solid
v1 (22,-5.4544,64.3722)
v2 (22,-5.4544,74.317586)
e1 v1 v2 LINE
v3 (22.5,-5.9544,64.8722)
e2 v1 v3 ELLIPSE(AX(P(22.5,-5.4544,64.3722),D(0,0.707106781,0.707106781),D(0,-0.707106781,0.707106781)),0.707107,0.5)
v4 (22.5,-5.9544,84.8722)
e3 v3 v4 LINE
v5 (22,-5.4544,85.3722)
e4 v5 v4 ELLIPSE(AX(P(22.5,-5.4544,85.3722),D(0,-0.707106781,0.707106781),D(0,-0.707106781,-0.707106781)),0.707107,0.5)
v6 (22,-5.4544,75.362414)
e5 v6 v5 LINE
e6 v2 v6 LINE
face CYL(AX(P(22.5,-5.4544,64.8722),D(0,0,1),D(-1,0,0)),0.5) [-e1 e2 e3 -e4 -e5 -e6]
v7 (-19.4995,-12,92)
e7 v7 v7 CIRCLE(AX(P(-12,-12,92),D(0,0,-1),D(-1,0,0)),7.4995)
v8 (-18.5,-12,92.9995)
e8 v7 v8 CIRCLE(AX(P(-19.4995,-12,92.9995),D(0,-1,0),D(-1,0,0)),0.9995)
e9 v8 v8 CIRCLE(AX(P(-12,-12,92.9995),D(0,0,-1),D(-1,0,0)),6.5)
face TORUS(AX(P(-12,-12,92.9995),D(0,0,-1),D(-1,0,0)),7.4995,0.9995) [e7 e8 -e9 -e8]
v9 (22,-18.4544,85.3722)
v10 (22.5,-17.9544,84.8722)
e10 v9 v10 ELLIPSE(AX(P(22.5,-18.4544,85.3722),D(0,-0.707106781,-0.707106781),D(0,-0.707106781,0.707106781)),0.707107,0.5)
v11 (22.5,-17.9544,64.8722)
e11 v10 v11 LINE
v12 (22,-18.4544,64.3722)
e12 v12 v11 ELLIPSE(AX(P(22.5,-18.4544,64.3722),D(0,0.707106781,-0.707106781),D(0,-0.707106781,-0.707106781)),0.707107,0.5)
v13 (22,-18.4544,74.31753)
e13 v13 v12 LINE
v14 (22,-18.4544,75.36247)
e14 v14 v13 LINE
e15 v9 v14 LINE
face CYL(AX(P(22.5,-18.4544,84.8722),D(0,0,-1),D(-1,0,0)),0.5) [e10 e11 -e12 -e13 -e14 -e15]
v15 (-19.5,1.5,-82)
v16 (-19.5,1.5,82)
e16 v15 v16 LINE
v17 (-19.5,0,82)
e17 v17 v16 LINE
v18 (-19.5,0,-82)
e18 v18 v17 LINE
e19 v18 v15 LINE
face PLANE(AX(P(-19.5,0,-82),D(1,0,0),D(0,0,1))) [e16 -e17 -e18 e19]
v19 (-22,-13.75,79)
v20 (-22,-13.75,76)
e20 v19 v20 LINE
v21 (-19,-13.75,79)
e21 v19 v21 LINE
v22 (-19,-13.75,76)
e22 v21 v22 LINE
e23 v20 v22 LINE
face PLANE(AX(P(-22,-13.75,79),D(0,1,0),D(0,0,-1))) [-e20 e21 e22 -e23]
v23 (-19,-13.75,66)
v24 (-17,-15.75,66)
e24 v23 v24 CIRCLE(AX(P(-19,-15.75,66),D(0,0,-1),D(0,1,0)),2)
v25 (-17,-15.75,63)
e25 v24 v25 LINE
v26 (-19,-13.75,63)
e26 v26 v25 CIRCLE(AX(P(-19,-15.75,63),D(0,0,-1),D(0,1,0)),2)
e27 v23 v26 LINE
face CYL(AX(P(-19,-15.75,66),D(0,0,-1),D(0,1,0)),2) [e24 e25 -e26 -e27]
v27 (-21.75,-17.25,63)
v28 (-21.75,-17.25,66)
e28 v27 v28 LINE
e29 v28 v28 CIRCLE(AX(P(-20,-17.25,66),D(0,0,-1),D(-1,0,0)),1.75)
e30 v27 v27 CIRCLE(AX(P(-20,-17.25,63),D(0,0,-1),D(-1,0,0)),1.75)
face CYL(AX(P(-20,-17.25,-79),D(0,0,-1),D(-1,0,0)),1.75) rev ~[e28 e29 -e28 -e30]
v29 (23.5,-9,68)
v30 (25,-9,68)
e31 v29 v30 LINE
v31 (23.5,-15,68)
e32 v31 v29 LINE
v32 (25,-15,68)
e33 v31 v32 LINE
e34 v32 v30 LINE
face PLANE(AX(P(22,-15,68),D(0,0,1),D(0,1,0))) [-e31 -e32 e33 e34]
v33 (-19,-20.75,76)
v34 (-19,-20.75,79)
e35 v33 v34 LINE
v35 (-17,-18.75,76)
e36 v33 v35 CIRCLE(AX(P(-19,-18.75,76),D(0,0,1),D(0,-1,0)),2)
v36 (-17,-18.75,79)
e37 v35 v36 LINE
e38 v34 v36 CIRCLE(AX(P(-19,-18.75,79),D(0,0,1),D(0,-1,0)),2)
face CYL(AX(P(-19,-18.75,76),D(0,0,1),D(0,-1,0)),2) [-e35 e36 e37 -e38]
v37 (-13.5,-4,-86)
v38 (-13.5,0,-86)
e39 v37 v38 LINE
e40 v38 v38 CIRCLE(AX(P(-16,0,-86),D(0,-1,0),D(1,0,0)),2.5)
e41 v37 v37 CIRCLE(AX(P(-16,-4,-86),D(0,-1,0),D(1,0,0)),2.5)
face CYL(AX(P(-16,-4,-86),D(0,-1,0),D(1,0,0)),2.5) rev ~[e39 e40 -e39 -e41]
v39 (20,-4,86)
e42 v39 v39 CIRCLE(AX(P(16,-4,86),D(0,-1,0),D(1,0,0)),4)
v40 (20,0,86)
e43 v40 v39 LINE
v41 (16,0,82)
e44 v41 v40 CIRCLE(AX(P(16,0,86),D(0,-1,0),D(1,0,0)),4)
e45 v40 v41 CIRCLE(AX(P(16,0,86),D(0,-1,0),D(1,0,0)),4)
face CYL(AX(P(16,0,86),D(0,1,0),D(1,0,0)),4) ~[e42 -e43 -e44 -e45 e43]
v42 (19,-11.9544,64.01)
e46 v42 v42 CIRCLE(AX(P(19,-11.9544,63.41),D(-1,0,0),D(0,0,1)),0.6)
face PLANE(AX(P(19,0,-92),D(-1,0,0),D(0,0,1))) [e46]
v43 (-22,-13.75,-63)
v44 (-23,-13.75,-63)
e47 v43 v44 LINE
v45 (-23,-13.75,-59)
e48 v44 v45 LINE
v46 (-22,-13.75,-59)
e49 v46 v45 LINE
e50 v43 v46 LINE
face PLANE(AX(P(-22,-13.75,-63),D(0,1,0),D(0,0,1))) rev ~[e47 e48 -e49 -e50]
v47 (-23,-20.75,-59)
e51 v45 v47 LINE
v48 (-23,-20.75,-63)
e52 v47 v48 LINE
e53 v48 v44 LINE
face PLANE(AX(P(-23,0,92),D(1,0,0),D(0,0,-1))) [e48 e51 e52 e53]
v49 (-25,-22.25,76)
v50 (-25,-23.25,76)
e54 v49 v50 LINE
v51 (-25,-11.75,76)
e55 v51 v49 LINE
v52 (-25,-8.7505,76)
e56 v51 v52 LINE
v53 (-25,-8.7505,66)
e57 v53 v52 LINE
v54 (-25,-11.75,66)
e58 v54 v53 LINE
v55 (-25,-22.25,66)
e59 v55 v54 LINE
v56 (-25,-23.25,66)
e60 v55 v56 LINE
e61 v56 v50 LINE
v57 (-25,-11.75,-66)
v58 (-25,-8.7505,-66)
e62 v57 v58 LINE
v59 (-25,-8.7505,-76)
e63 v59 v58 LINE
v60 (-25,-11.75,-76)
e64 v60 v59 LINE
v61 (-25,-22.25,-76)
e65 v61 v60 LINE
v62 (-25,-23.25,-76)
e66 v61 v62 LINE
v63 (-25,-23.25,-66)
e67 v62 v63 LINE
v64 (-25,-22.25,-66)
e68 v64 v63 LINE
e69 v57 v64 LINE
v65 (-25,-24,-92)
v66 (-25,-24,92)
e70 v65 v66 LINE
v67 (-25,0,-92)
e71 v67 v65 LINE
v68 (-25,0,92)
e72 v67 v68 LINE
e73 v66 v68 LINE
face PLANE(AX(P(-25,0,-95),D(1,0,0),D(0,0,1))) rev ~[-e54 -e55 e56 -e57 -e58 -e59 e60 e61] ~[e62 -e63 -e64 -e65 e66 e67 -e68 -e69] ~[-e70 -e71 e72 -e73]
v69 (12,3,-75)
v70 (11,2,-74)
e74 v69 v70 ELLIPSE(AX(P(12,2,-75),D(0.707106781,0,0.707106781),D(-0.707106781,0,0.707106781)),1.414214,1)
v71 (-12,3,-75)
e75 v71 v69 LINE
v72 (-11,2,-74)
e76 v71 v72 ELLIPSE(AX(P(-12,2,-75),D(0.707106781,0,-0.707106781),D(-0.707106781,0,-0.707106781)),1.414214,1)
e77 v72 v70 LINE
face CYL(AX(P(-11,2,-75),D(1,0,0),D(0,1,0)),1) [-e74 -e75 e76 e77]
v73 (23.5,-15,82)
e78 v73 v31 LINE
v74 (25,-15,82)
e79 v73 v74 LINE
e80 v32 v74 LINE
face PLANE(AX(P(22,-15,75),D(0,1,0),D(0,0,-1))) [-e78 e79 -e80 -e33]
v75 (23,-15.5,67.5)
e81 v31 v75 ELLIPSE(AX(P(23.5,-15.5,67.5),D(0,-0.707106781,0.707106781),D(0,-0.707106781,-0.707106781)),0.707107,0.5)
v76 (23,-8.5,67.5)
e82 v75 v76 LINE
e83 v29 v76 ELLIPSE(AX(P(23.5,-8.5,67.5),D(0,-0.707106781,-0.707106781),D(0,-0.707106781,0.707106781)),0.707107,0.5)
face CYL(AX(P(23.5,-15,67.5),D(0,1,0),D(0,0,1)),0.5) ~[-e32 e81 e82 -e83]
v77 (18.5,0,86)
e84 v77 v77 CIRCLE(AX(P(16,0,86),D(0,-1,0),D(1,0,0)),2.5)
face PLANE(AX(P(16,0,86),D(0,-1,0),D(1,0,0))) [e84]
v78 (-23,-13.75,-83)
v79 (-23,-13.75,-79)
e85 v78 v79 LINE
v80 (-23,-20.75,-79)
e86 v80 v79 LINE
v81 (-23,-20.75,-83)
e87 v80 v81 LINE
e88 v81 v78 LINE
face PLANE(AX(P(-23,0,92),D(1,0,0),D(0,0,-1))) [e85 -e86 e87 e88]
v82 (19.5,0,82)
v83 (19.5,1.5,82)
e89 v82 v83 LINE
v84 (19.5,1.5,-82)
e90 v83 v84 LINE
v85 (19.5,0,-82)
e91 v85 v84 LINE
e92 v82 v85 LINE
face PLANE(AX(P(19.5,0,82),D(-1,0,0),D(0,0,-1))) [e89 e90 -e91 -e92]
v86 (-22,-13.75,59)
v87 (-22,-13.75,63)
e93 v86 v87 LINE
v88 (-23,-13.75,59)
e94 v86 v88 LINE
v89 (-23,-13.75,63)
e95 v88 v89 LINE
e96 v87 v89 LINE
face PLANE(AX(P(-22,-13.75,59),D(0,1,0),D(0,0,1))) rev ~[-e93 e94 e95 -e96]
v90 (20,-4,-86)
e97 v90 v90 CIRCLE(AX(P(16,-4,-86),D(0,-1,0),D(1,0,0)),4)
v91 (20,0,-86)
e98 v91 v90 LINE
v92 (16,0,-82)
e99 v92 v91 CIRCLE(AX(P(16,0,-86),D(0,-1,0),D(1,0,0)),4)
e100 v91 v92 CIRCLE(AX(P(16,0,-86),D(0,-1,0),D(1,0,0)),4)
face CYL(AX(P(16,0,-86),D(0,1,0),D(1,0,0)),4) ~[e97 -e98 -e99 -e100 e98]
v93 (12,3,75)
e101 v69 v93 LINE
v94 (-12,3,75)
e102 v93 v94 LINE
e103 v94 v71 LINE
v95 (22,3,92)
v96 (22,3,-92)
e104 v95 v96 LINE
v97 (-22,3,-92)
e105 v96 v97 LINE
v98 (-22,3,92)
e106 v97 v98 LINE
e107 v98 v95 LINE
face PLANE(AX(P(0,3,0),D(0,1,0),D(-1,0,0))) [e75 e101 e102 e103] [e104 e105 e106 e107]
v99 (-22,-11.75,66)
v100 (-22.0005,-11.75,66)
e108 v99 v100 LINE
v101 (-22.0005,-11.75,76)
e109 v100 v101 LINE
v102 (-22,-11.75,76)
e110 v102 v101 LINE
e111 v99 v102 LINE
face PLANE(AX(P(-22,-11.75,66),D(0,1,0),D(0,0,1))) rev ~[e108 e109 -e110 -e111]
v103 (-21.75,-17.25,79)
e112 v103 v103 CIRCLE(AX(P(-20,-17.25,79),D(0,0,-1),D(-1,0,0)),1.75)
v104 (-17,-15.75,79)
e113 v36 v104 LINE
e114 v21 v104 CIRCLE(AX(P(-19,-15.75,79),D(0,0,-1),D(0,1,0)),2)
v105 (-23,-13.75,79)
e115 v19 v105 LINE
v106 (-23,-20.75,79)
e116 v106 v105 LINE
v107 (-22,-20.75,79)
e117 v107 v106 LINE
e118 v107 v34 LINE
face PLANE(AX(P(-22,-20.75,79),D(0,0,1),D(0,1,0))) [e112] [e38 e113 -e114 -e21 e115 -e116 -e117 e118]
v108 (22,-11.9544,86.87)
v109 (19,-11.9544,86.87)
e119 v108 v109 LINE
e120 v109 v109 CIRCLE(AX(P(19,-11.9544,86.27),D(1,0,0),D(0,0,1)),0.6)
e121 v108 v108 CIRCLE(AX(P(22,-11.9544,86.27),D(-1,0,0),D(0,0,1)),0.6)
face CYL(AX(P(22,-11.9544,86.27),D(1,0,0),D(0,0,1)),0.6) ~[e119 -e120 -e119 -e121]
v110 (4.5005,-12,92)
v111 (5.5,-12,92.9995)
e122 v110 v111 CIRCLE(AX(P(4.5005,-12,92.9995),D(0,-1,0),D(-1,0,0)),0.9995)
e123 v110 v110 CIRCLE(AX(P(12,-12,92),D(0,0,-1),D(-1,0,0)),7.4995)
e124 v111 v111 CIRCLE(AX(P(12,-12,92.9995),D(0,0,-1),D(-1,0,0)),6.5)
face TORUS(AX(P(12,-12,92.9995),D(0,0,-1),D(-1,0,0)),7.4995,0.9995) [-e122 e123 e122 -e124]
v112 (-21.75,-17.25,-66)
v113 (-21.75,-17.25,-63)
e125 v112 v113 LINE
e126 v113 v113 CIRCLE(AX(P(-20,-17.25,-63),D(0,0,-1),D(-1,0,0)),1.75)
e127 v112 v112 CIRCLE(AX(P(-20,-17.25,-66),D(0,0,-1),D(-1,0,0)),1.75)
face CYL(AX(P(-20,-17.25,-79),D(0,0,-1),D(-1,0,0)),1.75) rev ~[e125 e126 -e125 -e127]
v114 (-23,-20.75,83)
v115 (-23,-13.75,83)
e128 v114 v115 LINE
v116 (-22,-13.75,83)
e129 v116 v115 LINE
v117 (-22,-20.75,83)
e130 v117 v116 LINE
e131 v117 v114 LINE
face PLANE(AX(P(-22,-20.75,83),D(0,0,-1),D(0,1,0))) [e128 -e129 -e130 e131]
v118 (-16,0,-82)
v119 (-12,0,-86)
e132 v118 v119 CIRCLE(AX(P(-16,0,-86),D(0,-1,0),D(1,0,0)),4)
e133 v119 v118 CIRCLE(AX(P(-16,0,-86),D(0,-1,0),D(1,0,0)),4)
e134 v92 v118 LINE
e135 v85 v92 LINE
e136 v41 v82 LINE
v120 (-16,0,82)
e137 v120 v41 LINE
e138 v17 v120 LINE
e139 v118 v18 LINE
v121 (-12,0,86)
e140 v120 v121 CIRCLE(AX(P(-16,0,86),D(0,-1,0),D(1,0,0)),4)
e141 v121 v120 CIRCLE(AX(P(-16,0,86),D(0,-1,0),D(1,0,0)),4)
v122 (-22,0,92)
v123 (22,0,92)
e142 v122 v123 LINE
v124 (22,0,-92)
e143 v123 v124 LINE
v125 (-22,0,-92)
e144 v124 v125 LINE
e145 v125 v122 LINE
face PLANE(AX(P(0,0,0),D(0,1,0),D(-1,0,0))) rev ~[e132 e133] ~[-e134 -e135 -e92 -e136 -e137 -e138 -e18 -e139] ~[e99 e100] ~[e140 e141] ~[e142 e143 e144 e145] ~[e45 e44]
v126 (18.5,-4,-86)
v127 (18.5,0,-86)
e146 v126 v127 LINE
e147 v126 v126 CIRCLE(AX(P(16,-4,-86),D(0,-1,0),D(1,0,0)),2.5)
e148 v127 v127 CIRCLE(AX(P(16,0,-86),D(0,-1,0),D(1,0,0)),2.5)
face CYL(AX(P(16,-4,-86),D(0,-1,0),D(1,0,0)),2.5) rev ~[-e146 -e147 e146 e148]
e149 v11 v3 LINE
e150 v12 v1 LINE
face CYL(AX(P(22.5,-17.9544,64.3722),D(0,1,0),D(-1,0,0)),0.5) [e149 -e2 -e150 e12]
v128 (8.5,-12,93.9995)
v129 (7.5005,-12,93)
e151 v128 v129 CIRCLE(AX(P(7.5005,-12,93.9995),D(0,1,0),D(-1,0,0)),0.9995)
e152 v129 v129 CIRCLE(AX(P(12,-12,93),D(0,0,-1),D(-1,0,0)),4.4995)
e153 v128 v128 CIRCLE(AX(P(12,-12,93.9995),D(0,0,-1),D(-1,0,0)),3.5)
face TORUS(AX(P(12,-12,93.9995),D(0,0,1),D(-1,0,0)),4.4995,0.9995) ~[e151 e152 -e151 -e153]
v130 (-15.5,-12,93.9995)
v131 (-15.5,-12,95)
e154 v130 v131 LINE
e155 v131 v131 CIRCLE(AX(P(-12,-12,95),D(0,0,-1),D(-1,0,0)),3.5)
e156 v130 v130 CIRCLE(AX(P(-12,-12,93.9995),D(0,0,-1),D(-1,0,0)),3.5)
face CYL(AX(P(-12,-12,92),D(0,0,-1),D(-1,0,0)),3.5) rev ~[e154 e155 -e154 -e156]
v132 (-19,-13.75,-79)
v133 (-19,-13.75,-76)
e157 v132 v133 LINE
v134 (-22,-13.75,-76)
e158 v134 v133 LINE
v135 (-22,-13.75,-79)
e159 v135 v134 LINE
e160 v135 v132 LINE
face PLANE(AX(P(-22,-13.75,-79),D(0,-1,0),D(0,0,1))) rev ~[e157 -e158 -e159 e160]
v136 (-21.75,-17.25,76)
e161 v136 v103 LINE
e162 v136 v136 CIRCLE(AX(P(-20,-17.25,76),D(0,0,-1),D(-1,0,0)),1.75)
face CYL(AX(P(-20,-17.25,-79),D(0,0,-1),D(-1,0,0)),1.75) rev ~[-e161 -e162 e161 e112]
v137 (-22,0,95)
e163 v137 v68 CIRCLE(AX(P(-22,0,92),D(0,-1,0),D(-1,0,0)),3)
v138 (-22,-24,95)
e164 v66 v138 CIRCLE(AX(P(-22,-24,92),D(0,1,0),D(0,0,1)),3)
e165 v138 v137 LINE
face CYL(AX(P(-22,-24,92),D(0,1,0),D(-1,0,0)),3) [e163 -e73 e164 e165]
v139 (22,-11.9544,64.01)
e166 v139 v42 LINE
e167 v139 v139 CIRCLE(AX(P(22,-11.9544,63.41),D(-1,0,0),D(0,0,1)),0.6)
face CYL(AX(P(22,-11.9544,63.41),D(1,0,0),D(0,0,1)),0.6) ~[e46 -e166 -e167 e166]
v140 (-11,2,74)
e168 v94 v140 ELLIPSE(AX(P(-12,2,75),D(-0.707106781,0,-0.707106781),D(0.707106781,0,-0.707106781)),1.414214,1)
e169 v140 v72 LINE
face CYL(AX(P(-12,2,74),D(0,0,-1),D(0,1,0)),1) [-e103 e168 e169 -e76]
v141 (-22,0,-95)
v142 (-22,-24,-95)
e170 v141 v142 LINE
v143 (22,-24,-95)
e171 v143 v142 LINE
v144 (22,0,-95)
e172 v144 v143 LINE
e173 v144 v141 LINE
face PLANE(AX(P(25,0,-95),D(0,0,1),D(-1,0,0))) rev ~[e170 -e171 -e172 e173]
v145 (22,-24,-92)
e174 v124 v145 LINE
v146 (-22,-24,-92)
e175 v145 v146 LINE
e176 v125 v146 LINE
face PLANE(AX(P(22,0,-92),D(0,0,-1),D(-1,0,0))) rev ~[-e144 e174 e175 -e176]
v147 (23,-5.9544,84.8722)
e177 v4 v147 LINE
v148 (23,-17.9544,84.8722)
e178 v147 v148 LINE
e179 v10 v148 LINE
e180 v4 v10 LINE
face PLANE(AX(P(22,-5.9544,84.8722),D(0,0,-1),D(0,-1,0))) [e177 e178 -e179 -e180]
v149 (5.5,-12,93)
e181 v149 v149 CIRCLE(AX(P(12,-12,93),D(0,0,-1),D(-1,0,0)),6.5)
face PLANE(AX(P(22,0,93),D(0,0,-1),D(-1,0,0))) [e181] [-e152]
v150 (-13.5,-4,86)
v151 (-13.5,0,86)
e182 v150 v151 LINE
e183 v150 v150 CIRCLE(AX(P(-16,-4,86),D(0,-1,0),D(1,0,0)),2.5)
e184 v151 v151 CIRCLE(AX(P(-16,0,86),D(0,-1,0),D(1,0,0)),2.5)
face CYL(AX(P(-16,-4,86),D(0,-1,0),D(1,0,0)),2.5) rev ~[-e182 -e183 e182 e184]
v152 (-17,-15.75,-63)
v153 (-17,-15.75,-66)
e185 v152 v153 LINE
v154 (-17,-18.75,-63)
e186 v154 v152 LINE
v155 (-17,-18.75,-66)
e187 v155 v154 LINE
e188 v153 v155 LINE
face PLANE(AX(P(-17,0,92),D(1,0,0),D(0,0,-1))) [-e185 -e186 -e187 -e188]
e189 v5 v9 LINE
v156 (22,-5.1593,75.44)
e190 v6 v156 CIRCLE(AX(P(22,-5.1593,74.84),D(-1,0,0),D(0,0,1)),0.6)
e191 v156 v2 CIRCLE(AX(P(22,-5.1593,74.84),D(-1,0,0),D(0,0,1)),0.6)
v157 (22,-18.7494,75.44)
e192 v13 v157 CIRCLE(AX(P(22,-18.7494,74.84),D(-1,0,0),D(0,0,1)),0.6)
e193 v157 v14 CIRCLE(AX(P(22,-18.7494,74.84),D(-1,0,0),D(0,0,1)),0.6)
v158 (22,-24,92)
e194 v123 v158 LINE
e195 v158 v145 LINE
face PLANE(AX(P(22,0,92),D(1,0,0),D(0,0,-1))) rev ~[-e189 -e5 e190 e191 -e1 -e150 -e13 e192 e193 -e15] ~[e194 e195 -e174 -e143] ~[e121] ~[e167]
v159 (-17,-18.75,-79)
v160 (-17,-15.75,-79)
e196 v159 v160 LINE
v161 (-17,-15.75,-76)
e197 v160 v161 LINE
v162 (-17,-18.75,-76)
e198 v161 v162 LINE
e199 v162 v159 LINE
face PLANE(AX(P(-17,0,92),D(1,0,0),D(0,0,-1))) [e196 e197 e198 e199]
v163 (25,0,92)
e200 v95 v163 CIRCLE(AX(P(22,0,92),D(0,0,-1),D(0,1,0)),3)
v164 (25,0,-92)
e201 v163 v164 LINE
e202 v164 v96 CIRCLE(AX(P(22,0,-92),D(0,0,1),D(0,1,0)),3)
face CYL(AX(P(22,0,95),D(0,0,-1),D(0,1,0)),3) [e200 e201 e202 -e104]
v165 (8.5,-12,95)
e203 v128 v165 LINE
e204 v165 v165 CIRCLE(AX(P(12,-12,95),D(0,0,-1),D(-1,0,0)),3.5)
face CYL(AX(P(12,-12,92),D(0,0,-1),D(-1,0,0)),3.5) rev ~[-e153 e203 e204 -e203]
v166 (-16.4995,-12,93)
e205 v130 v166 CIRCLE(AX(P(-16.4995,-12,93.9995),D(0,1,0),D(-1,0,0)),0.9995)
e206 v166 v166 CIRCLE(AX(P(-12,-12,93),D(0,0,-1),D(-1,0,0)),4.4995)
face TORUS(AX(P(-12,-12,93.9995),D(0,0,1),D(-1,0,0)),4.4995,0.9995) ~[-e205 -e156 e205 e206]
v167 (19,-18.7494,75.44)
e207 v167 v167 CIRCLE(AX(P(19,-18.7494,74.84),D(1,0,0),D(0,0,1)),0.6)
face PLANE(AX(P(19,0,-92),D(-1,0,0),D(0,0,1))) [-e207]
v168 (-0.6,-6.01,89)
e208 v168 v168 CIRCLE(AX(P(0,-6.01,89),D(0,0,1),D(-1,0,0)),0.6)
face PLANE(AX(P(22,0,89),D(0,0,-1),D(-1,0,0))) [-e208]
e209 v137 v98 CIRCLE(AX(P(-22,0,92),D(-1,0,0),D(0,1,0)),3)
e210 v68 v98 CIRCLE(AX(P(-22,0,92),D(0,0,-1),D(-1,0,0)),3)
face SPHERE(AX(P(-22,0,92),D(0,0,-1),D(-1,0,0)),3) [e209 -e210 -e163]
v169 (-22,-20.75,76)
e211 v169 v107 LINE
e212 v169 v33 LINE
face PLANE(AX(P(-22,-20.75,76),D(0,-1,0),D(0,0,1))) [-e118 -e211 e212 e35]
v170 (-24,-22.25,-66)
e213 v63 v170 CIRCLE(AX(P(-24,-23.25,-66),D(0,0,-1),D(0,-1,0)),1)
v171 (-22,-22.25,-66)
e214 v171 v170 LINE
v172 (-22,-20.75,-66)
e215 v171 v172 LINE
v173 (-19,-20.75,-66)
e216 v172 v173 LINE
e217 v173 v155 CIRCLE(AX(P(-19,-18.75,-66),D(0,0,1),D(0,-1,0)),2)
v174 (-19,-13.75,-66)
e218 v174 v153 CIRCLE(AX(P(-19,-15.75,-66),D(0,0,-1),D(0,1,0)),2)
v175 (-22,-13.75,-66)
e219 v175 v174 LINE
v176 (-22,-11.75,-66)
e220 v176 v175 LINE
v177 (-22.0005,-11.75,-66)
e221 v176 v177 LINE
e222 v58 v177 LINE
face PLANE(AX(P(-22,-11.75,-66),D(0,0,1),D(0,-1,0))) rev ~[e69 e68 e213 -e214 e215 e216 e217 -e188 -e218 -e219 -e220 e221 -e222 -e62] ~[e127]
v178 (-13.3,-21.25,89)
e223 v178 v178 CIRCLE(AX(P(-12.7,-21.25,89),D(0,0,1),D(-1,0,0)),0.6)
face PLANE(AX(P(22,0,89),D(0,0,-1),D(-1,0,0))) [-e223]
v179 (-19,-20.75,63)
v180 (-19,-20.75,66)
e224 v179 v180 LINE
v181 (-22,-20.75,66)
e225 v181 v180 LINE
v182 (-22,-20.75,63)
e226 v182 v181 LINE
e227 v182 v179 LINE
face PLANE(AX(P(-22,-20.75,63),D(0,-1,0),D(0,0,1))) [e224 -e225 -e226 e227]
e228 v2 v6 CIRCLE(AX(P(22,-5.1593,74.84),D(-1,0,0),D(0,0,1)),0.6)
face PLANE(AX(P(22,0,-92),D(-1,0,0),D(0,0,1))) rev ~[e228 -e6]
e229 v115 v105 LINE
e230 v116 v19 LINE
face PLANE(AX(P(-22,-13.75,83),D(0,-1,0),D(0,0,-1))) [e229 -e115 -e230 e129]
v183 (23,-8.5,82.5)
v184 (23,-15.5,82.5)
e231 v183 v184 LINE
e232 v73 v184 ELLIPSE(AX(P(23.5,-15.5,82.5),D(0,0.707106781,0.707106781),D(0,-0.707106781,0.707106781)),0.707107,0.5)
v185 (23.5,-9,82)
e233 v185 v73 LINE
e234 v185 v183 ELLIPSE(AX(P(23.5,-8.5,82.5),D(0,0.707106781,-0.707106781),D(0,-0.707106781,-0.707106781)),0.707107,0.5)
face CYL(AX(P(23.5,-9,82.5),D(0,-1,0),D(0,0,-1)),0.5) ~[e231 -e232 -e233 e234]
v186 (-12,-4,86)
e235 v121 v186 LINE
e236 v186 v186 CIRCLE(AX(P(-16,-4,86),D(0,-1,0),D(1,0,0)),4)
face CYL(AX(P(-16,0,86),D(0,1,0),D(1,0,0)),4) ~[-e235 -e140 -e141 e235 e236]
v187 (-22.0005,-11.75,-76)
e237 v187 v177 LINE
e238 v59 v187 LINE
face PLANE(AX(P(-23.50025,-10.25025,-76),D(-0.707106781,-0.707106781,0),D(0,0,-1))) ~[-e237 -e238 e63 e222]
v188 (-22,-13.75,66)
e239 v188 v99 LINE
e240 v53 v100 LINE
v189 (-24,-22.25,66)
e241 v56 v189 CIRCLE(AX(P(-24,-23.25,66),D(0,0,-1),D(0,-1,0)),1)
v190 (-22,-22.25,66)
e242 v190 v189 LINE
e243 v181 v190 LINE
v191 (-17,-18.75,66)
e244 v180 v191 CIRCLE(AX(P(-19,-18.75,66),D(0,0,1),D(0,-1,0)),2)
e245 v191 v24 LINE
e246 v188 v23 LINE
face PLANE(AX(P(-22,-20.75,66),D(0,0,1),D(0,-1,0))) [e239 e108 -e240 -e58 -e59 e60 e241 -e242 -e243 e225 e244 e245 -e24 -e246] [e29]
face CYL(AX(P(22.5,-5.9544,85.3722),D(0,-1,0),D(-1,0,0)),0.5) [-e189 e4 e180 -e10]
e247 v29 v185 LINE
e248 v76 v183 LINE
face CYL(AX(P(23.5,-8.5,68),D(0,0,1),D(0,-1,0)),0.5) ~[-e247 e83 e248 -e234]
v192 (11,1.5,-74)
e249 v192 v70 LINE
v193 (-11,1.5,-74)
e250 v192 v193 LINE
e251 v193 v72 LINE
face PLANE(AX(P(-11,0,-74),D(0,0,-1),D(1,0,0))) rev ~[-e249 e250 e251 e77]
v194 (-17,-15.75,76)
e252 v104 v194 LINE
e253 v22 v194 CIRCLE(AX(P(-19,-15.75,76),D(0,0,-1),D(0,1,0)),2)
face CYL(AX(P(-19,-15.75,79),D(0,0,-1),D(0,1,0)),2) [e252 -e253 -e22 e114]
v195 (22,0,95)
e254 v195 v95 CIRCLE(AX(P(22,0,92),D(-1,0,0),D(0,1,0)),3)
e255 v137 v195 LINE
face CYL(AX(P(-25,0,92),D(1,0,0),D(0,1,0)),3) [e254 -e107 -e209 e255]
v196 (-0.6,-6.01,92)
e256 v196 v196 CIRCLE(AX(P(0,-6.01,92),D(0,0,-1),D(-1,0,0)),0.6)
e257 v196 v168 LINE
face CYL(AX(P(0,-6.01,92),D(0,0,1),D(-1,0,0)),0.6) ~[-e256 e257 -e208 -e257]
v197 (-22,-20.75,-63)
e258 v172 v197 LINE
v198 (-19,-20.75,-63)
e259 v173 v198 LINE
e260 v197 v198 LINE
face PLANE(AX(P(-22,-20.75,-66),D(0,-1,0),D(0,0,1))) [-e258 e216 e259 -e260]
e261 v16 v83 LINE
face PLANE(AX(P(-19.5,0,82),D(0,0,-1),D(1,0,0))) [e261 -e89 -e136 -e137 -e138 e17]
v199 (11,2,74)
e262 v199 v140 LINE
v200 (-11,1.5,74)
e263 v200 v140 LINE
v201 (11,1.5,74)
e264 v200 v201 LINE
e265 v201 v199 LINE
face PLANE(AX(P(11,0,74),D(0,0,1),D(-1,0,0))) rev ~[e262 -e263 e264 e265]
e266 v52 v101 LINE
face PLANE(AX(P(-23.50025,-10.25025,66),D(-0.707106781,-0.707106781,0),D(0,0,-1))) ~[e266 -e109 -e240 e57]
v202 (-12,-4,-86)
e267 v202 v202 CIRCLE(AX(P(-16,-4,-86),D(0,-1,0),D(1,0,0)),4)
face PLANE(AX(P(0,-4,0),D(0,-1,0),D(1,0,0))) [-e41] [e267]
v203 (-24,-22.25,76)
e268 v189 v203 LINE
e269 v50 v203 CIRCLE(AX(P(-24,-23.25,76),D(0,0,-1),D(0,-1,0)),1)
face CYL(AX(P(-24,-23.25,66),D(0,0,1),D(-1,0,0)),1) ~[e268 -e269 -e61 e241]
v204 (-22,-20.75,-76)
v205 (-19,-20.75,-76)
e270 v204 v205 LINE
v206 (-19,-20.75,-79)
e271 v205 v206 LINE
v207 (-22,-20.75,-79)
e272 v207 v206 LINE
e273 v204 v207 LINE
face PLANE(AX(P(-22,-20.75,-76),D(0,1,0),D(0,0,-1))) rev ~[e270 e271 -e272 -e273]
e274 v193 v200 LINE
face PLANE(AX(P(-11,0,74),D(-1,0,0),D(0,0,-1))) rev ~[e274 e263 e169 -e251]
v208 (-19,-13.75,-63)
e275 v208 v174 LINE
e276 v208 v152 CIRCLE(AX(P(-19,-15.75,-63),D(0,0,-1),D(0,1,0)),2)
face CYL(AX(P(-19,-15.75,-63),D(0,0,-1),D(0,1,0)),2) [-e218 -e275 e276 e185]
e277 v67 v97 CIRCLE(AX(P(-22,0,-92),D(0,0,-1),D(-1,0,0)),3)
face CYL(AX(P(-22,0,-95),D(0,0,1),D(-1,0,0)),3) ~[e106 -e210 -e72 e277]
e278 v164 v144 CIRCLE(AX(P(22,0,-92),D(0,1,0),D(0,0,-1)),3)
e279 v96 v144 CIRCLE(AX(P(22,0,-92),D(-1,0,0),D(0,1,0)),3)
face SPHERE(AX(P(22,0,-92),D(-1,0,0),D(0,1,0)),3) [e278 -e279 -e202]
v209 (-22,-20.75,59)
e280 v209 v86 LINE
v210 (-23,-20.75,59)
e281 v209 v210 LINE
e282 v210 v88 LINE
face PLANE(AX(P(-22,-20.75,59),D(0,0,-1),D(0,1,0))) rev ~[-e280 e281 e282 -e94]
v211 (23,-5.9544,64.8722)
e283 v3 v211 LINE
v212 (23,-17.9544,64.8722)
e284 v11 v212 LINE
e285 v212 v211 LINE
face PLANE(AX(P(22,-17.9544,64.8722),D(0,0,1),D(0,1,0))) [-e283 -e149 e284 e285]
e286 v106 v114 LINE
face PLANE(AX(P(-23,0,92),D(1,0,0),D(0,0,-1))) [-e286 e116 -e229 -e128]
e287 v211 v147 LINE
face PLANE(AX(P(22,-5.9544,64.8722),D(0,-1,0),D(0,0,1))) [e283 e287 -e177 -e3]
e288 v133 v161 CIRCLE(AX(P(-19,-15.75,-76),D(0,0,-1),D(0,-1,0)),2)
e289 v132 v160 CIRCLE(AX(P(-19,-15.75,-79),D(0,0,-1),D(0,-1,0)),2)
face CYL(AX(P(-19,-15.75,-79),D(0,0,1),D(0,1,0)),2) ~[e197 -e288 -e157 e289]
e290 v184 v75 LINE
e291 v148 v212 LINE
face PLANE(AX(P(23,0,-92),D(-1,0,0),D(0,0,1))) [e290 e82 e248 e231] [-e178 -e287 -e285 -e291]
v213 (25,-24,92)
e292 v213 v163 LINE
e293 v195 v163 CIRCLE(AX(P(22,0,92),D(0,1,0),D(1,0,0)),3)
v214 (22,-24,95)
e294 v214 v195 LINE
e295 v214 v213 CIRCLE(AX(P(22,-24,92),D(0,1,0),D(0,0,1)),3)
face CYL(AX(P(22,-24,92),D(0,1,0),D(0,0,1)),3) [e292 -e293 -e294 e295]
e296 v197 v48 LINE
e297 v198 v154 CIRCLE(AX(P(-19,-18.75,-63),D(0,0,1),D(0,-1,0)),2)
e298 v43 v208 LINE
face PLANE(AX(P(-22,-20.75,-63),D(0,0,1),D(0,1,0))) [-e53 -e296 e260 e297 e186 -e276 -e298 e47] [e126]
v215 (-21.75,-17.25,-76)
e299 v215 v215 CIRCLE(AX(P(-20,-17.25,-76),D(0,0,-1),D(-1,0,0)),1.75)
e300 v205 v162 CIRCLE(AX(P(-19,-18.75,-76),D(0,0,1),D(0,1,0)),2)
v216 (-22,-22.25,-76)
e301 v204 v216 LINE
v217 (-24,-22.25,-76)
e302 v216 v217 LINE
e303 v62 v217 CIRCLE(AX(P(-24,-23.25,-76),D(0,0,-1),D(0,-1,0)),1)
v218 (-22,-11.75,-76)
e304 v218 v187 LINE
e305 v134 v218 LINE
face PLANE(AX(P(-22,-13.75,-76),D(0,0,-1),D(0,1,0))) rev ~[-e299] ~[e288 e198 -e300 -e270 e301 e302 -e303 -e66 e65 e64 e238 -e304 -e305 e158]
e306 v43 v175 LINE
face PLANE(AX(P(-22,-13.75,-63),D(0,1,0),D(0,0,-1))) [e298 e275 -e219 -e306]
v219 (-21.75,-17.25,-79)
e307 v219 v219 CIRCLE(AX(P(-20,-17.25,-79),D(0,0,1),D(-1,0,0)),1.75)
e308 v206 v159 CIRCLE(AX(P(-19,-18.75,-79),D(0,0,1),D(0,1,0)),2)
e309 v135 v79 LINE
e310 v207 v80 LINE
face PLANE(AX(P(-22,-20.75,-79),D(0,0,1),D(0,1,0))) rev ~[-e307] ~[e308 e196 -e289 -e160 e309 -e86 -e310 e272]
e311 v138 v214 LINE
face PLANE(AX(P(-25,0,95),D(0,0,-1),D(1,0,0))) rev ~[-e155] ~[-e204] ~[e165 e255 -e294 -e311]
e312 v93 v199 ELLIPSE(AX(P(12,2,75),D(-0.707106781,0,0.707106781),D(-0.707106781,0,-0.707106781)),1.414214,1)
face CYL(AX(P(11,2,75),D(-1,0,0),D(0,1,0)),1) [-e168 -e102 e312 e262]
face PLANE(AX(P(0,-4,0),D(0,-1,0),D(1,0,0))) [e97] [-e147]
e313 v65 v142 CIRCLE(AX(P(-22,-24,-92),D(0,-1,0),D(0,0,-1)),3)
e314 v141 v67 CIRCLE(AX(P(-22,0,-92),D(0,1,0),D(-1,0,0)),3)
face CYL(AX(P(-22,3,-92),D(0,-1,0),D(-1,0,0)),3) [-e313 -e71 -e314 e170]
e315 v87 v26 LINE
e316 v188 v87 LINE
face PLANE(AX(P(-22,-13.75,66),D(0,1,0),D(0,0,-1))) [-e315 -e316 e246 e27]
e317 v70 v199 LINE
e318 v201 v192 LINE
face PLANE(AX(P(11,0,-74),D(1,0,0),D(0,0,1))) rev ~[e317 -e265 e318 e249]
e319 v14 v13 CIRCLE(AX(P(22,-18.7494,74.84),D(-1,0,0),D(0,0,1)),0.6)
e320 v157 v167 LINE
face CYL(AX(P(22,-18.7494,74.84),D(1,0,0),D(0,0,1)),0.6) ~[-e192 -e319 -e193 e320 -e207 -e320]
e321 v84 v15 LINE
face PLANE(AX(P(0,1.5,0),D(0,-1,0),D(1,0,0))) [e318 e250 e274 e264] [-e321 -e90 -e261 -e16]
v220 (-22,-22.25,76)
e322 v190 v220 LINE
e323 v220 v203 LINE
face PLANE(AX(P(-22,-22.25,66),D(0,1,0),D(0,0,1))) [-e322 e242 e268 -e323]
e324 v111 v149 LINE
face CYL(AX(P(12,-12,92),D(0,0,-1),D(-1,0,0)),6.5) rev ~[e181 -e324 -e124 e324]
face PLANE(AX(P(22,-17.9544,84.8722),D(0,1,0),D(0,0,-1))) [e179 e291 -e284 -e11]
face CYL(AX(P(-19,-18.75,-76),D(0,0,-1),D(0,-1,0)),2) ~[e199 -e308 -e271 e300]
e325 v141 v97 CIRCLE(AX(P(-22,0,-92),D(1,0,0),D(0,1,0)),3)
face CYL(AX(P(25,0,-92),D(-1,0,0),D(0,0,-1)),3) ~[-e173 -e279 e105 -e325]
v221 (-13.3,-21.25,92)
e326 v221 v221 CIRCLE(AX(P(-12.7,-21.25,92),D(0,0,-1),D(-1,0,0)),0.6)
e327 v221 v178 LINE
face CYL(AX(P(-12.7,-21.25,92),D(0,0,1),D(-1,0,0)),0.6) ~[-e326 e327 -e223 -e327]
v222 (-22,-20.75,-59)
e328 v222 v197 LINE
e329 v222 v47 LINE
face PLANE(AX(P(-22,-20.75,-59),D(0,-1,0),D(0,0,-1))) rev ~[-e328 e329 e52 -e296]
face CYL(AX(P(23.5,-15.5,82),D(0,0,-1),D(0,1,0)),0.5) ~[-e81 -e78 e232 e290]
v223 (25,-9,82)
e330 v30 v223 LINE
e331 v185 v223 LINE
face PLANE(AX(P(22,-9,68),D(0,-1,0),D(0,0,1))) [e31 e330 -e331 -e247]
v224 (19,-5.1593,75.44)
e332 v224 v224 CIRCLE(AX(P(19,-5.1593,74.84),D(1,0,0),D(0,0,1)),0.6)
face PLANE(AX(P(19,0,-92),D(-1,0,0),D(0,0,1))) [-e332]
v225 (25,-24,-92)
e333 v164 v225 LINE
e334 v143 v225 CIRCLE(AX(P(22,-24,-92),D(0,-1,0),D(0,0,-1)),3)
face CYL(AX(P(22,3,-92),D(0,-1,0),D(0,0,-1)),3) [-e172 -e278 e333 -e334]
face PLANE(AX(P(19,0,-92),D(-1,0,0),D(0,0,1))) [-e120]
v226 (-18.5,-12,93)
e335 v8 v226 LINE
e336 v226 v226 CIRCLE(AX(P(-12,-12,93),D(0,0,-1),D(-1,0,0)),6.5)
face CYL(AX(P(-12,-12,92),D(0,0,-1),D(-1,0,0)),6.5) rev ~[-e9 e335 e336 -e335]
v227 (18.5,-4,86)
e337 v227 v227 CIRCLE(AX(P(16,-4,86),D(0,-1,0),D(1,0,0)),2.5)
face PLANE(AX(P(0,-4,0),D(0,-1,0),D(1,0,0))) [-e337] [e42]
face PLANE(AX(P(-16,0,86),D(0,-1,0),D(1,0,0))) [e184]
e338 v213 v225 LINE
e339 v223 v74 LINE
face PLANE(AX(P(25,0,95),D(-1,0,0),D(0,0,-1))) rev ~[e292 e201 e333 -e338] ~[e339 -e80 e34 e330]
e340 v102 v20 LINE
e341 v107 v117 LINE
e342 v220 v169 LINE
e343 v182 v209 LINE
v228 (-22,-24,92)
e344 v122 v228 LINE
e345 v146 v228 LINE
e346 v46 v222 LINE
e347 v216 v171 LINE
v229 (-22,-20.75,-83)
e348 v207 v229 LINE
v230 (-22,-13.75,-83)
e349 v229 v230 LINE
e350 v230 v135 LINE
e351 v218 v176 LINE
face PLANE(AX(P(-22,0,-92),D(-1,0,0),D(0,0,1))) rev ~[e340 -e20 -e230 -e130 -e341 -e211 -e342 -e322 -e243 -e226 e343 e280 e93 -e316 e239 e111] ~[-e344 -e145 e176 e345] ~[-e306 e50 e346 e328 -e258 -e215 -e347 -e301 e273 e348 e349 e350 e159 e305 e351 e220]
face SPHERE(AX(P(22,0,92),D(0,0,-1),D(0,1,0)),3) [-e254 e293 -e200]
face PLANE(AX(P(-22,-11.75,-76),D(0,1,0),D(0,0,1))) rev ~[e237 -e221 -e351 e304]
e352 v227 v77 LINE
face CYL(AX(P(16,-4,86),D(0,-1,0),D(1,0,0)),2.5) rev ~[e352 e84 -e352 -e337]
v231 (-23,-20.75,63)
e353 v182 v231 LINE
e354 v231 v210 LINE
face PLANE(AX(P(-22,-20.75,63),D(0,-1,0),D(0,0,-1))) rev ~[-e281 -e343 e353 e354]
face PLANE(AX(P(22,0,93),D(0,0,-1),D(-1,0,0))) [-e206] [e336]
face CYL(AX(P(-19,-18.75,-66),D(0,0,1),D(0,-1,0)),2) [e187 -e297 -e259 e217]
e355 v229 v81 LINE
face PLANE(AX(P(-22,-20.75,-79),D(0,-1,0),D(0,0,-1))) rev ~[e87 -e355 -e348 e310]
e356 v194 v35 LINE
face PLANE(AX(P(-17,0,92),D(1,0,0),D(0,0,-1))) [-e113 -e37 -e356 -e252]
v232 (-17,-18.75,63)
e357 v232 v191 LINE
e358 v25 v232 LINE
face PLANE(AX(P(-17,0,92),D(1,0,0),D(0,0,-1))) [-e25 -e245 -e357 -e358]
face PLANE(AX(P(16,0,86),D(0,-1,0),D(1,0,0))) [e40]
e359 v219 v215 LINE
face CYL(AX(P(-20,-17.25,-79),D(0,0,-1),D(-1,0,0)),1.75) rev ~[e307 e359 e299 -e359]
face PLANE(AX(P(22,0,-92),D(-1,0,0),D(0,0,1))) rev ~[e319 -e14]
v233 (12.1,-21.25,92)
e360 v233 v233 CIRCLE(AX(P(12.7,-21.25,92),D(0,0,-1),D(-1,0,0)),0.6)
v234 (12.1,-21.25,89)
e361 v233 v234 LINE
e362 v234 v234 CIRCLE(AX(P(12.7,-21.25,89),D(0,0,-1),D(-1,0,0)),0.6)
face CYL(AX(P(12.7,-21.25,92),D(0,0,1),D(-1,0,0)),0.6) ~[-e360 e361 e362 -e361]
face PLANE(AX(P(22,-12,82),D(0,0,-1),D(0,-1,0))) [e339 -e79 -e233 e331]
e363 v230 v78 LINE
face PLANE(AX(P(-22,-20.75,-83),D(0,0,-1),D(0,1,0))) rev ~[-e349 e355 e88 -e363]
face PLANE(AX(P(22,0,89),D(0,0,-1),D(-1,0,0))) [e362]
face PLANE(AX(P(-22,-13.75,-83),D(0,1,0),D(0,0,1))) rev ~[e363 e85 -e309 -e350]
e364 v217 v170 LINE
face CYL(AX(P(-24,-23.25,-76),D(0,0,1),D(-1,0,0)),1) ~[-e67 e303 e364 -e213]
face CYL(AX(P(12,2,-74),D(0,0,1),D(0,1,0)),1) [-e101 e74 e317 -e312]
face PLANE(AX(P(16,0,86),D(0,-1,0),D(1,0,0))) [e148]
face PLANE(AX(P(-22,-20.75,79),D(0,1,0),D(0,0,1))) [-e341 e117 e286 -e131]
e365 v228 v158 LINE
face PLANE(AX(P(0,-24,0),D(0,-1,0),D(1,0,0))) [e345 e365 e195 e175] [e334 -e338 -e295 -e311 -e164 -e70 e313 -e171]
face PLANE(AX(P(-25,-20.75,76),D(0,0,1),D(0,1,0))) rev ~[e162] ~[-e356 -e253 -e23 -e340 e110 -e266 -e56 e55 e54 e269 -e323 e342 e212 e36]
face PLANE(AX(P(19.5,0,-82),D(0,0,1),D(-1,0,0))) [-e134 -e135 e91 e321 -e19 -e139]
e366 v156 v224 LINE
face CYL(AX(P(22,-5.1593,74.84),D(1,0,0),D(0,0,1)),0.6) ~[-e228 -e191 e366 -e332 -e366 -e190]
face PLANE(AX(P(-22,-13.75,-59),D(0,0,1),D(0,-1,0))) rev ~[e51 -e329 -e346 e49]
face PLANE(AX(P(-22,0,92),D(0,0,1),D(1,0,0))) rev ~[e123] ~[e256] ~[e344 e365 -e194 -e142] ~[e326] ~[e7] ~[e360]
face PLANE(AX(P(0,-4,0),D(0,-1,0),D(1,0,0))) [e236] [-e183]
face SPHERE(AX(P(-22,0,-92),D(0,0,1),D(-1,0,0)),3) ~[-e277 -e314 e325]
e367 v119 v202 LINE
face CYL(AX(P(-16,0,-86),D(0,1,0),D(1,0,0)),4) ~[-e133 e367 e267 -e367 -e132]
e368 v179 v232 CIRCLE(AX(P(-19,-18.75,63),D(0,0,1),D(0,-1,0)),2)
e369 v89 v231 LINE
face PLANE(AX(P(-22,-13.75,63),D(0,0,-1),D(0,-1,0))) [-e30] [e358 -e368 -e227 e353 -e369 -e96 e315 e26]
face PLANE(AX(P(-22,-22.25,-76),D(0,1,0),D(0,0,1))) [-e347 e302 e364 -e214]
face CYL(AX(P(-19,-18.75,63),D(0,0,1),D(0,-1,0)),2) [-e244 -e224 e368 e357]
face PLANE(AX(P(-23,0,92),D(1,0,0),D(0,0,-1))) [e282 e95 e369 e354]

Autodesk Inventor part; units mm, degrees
ref_plane "YZ Plane" through (0, 0, 0) normal (1, 0, 0) x (0, 1, 0)
ref_plane "XZ Plane" through (0, 0, 0) normal (0, 1, 0) x (-1, 0, 0)
ref_plane "XY Plane" through (0, 0, 0) normal (0, 0, 1) x (1, 0, 0)
sketch "Эскиз1" plane through (0, 0, 0) normal (0, 1, 0) x (-1, 0, 0)
  line L0 (-20, 90) -> (20, 90)
  line L1 (20, 90) -> (20, -90)
  line L2 (20, -90) -> (-20, -90)
  line L3 (-20, -90) -> (-20, 90)
  line L4 (-20, 90) -> (20, -90) construction
  line L5 (20, 90) -> (-20, -90) construction
  line L6 (16, -86) -> (-16, -86)
  line L7 (-16, -86) -> (-16, 86)
  line L8 (-16, 86) -> (16, 86)
  line L9 (16, 86) -> (16, -86)
  line L10 (16, -86) -> (-16, 86) construction
  line L11 (-16, -86) -> (16, 86) construction
  line L12 (-11, 74) -> (11, 74)
  line L13 (11, 74) -> (11, -74)
  line L14 (11, -74) -> (-11, -74)
  line L15 (-11, -74) -> (-11, 74)
  line L16 (-11, 74) -> (11, -74) construction
  line L17 (11, 74) -> (-11, -74) construction
  circle A0 centre (16, 86) radius 1.6
  line L18 (17.7, 80.7) -> (-17.7, 80.7)
  line L19 (-17.7, 80.7) -> (-17.7, -80.7)
  line L20 (-17.7, -80.7) -> (17.7, -80.7)
  line L21 (17.7, -80.7) -> (17.7, 80.7)
  line L22 (17.7, 80.7) -> (-17.7, -80.7) construction
  line L23 (-17.7, 80.7) -> (17.7, -80.7) construction
  line L24 (-8.89, -88.5) -> (8.89, -88.5)
  line L25 (8.89, -88.5) -> (8.89, -83.5)
  line L26 (8.89, -83.5) -> (-8.89, -83.5)
  line L27 (-8.89, -83.5) -> (-8.89, -88.5)
  line L28 (-8.89, -88.5) -> (8.89, -83.5) construction
  line L29 (8.89, -88.5) -> (-8.89, -83.5) construction
  point P0 (0, 0)
  point P1 (0, -86)
  dimension "d0" = 40
  dimension "d1" = 180
  dimension "d2" = 32
  dimension "d3" = 172
  dimension "d4" = 22
  dimension "d5" = 148
  dimension "d6" = 3.2
  dimension "d7" = 35.4
  dimension "d8" = 161.4
  dimension "d21" = 17.78
  dimension "d22" = 5
sketch "Эскиз2" plane through (0, 0, 0) normal (0, 1, 0) x (-1, 0, 0)
  line L0 (25, 95) -> (-25, 95)
  line L1 (-25, 95) -> (-25, -95)
  line L2 (-25, -95) -> (25, -95)
  line L3 (25, -95) -> (25, 95)
  line L4 (25, 95) -> (-25, -95) construction
  line L5 (-25, 95) -> (25, -95) construction
  line L6 (11, -74) -> (-11, -74)
  line L7 (-11, -74) -> (-11, 74)
  line L8 (-11, 74) -> (11, 74)
  line L9 (11, 74) -> (11, -74)
  line L10 (11, -74) -> (-11, 74) construction
  line L11 (-11, -74) -> (11, 74) construction
  point P0 (0, 0)
  dimension "d9" = 50
  dimension "d10" = 190
extrude "Выдавливание1" add sketch "Эскиз2" along normal blind 3
sketch "Эскиз3" plane through (0, 0, 0) normal (0, -1, 0) x (1, 0, 0)
  line L0 (-25, 95) -> (25, 95) projected
  line L1 (-25, -95) -> (-25, 95) projected
  line L2 (25, -95) -> (-25, -95) projected
  line L3 (25, 95) -> (25, -95) projected
  line L4 (-22, 92) -> (22, 92)
  line L5 (22, 92) -> (22, -92)
  line L6 (22, -92) -> (-22, -92)
  line L7 (-22, -92) -> (-22, 92)
  line L8 (-22, 92) -> (22, -92) construction
  line L9 (22, 92) -> (-22, -92) construction
  point P0 (0, 0)
  dimension "d13" = 44
  dimension "d14" = 184
extrude "Выдавливание2" add sketch "Эскиз3" along normal blind 24
sketch "Эскиз4" plane through (0, 0, 0) normal (0, -1, 0) x (1, 0, 0)
  circle A0 centre (-16, -86) radius 4
  circle A1 centre (16, -86) radius 4
  circle A2 centre (16, 86) radius 4
  circle A3 centre (-16, 86) radius 4
  point P0 (0, 0)
  dimension "d17" = 8
  dimension "d18" = 8
  dimension "d19" = 8
  dimension "d20" = 8
extrude "Выдавливание3" add sketch "Эскиз4" along normal blind 4
sketch "Эскиз5" plane through (22, 0, 92) normal (0, 0, -1) x (-1, 0, 0)
  line L0 (0, 0) -> (44, 0) projected
  line L1 (0, 0) -> (0, -24) projected
  line L2 (44, -24) -> (0, -24) projected
  line L3 (44, 0) -> (44, -24) projected
  line L4 (0, -12) -> (44, -12)
  line L5 (22, -24) -> (22, 0)
  line L6 (22, -12) -> (34, -12)
  circle A0 centre (34, -12) radius 3.5
  line L7 (44, -12) -> (0, -12)
  circle A1 centre (10, -12) radius 3.5
  dimension "d25" = 12
  dimension "d26" = 7
extrude "Выдавливание4" cut sketch "Эскиз5" against normal blind 5.2 contours A1 L4 | L4 A1 | A0 L4 | L4 A0
sketch "Эскиз6" plane through (22, 0, 92) normal (0, 0, -1) x (-1, 0, 0)
  circle A0 centre (10, -12) radius 3.5 projected
  circle A1 centre (34, -12) radius 3.5 projected
  circle A2 centre (34, -12) radius 6.5
  circle A3 centre (10, -12) radius 6.5
  point P0 (22, 0)
  dimension "d29" = 13
  dimension "d30" = 13
extrude "Выдавливание5" cut sketch "Эскиз6" against normal blind 1
fillet "Сопряжение1" radius 1 4 edges at (15.5, -12, 93) (-8.5, -12, 93) (-5.5, -12, 92) (18.5, -12, 92)
sketch "Эскиз7" plane through (-16, -4, 86) normal (0, -1, 0) x (1, 0, 0)
  circle A0 centre (0, 0) radius 4 projected
  circle A1 centre (0, 0) radius 2.5
  point P0 (16, -86)
  dimension "d34" = 5
extrude "Выдавливание6" cut sketch "Эскиз7" against normal blind 4 contours A1
sketch "Эскиз8" plane through (16, -4, 86) normal (0, -1, 0) x (1, 0, 0)
  circle A0 centre (0, 0) radius 4 projected
  circle A1 centre (0, 0) radius 2.5
  circle A2 centre (0, -172) radius 2.5
  circle A3 centre (-32, -172) radius 2.5
  point P0 (-16, -86)
  dimension "d37" = 5
  dimension "d38" = 5
  dimension "d39" = 5
extrude "Выдавливание7" cut sketch "Эскиз8" against normal blind 4 contours A1 | A2 | A3
sketch "Эскиз9" plane through (0, 0, 0) normal (0, -1, 0) x (1, 0, 0)
  line L0 (11, 74) -> (11, -74) projected
  line L1 (11, -74) -> (-11, -74) projected
  line L2 (-11, -74) -> (-11, 74) projected
  line L3 (-11, 74) -> (11, 74) projected
  line L4 (-19.5, 82) -> (19.5, 82)
  line L5 (19.5, 82) -> (19.5, -82)
  line L6 (19.5, -82) -> (-19.5, -82)
  line L7 (-19.5, -82) -> (-19.5, 82)
  line L8 (-19.5, 82) -> (19.5, -82) construction
  line L9 (19.5, 82) -> (-19.5, -82) construction
  point P0 (0, 0)
  dimension "d42" = 39
  dimension "d43" = 164
extrude "Выдавливание8" cut sketch "Эскиз9" against normal blind 1.5
sketch "Эскиз10" plane through (22, 0, -92) normal (-1, 0, 0) x (0, 0, 1)
  line L0 (184, -24) -> (0, -24) projected
  line L1 (184, 0) -> (184, -24) projected
  line L2 (184, -24) -> (167, -24)
  line L3 (167, -24) -> (167, 0)
  line L4 (174, 0) -> (10, 0) projected
  line L5 (167, -24) -> (191, -24) construction
  line L6 (167, -12) -> (184, -12)
  line L7 (160, -9) -> (174, -9)
  line L8 (174, -9) -> (174, -15)
  line L9 (174, -15) -> (160, -15)
  line L10 (160, -15) -> (160, -9)
  line L11 (160, -9) -> (174, -15) construction
  line L12 (174, -9) -> (160, -15) construction
  point P0 (92, 0)
  dimension "d46" = 90
  dimension "d47" = 14
  dimension "d48" = 6
extrude "Выдавливание9" cut sketch "Эскиз10" against normal blind 3 contours L9 L10 L7 L3 | L3 L6 L8 L9 | L6 L3 L7 L8
sketch "Эскиз11" plane through (22, 0, -92) normal (-1, 0, 0) x (0, 0, 1)
  line L0 (160, -15) -> (160, -9) projected
  line L1 (160, -9) -> (174, -9) projected
  line L2 (174, -9) -> (174, -15) projected
  line L3 (174, -15) -> (160, -15) projected
  line L4 (156.8722, -5.9544) -> (176.8722, -5.9544)
  line L5 (176.8722, -5.9544) -> (176.8722, -17.9544)
  line L6 (176.8722, -17.9544) -> (156.8722, -17.9544)
  line L7 (156.8722, -17.9544) -> (156.8722, -5.9544)
  line L8 (156.8722, -5.9544) -> (176.8722, -17.9544) construction
  line L9 (176.8722, -5.9544) -> (156.8722, -17.9544) construction
  point P0 (92, 0)
  point P1 (166.8722, -11.9544)
  dimension "d51" = 20
  dimension "d52" = 12
extrude "Выдавливание10" cut sketch "Эскиз11" against normal blind 1
fillet "Сопряжение2" radius 0.5 8 edges at (23, -12, 82) (23, -9, 75) (23, -15, 75) (23, -12, 68) (22, -11.9544, 84.8722) (22, -17.9544, 74.8722) (22, -5.9544, 74.8722) (22, -11.9544, 64.8722)
sketch "Эскиз12" plane through (-25, 3, -95) normal (-1, 0, 0) x (0, 0, 1)
  line L0 (190, 0) -> (190, -27) projected
  line L1 (190, -27) -> (0, -27) projected
  line L2 (190, -13.5) -> (0, -13.5)
  line L3 (0, -27) -> (0, 0) projected
  line L4 (190, -13.5) -> (166, -13.5)
  line L5 (0, -13.5) -> (24, -13.5)
  line L6 (0, -13.5) -> (24, -13.5) construction
  line L7 (24, -13.5) -> (24, -27)
  line L8 (29, -16.75) -> (19, -16.75)
  line L9 (19, -16.75) -> (19, -23.75)
  line L10 (19, -23.75) -> (29, -23.75)
  line L11 (29, -23.75) -> (29, -16.75)
  line L12 (29, -16.75) -> (19, -23.75) construction
  line L13 (19, -16.75) -> (29, -23.75) construction
  line L14 (24, -20.25) -> (190, -20.25)
  line L15 (190, -13.5) -> (166, -13.5)
  line L16 (171, -16.75) -> (161, -16.75)
  line L17 (161, -16.75) -> (161, -23.75)
  line L18 (161, -23.75) -> (171, -23.75)
  line L19 (171, -23.75) -> (171, -16.75)
  line L20 (171, -16.75) -> (161, -23.75) construction
  line L21 (161, -16.75) -> (171, -23.75) construction
  point P0 (95, -3)
  point P1 (166, -20.25)
  dimension "d56" = 24
  dimension "d57" = 0
  dimension "d58" = 10
  dimension "d59" = 7
  dimension "d62" = 24
  dimension "d63" = 10
  dimension "d64" = 7
extrude "Выдавливание11" cut sketch "Эскиз12" against normal blind 4 contours L19 L18 L17 L14 | L14 L17 L16 L19 | L8 L11 L14 L7 | L7 L10 L9 L8 | L7 L14 L11 L10
sketch "Эскиз13" plane through (-22, 0, 92) normal (1, 0, 0) x (0, 0, -1)
  line L0 (26, -13.75) -> (29, -13.75)
  line L1 (29, -13.75) -> (29, -20.75)
  line L2 (29, -20.75) -> (26, -20.75)
  line L3 (26, -20.75) -> (26, -13.75)
  line L4 (16, -20.75) -> (13, -20.75)
  line L5 (13, -20.75) -> (13, -13.75)
  line L6 (13, -13.75) -> (16, -13.75)
  line L7 (16, -13.75) -> (16, -20.75)
  line L8 (158, -20.75) -> (155, -20.75)
  line L9 (155, -20.75) -> (155, -13.75)
  line L10 (155, -13.75) -> (158, -13.75)
  line L11 (158, -13.75) -> (158, -20.75)
  line L12 (168, -20.75) -> (171, -20.75)
  line L13 (171, -20.75) -> (171, -13.75)
  line L14 (171, -13.75) -> (168, -13.75)
  line L15 (168, -13.75) -> (168, -20.75)
  line L16 (155, -13.75) -> (151, -13.75)
  line L17 (151, -13.75) -> (151, -20.75)
  line L18 (151, -20.75) -> (155, -20.75)
  line L19 (155, -20.75) -> (155, -13.75)
  line L20 (171, -20.75) -> (175, -20.75)
  line L21 (175, -20.75) -> (175, -13.75)
  line L22 (175, -13.75) -> (171, -13.75)
  line L23 (171, -13.75) -> (171, -20.75)
  line L24 (29, -20.75) -> (33, -20.75)
  line L25 (33, -20.75) -> (33, -13.75)
  line L26 (33, -13.75) -> (29, -13.75)
  line L27 (29, -13.75) -> (29, -20.75)
  line L28 (13, -20.75) -> (9, -20.75)
  line L29 (9, -20.75) -> (9, -13.75)
  line L30 (9, -13.75) -> (13, -13.75)
  line L31 (13, -13.75) -> (13, -20.75)
  point P0 (92, 0)
extrude "Выдавливание12" add sketch "Эскиз13" along normal blind 5 contours L0 L1 L2 L3 | L4 L5 L6 L7 | L8 L9 L10 L11 | L15 L14 L13 L12
extrude "Выдавливание13" cut sketch "Эскиз13" against normal blind 1 contours L26 L25 L24 L1 | L28 L29 L30 L5 | L18 L17 L16 L9 | L13 L22 L21 L20
fillet "Сопряжение3" radius 2 8 edges at (-17, -20.75, 64.5) (-17, -20.75, 77.5) (-17, -13.75, 77.5) (-17, -13.75, 64.5) (-17, -20.75, -64.5) (-17, -13.75, -64.5) (-17, -20.75, -77.5) (-17, -13.75, -77.5)
sketch "Эскиз14" plane through (-22, -20.75, -79) normal (0, 0, -1) x (-1, 0, 0)
  line L0 (-5, 2) -> (-5, 5) projected
  line L1 (0, 0) -> (-3, 0) projected
  line L2 (1, 0) -> (1, 7) projected
  line L3 (0, 7) -> (-3, 7) projected
  line L4 (1, 3.5) -> (-5, 3.5)
  line L5 (-5, 3.5) -> (-2, 3.5)
  line L6 (-2, 0) -> (-2, 7)
  line L7 (0, 7) -> (-3, 7) projected
  circle A0 centre (-2, 3.5) radius 1.75
  point P0 (-22, 20.75)
  dimension "d72" = 3.5
extrude "Выдавливание14" cut sketch "Эскиз14" against normal blind 160
sketch "Эскиз15" plane through (22, 0, 92) normal (0, 0, -1) x (-1, 0, 0)
  line L0 (44, -24) -> (0, -24) projected
  line L1 (22, -24) -> (22, 0)
  line L2 (22, -21.25) -> (9.3, -21.25)
  line L3 (22, -21.25) -> (34.7, -21.25)
  line L4 (34.7, -21.25) -> (22, -21.25)
  line L5 (22, -21.25) -> (22, -6.01)
  circle A0 centre (9.3, -21.25) radius 0.6
  circle A1 centre (34.7, -21.25) radius 0.6
  circle A2 centre (22, -6.01) radius 0.6
  dimension "d75" = 12.7
  dimension "d76" = 12.7
  dimension "d77" = 15.24
  dimension "d78" = 1.2
  dimension "d79" = 1.2
  dimension "d80" = 1.2
extrude "Выдавливание15" add sketch "Эскиз15" along normal blind 3
sketch "Эскиз16" plane through (22, 0, -92) normal (-1, 0, 0) x (0, 0, 1)
  line L0 (177.3722, -18.4544) -> (177.3722, -5.4544) projected
  line L1 (177.3722, -11.9544) -> (178.27, -11.9544)
  line L2 (178.27, -11.9544) -> (155.41, -11.9544)
  line L3 (177, -18.7494) -> (156.68, -18.7494)
  line L4 (156.68, -18.7494) -> (156.68, -5.1593)
  line L5 (156.68, -5.1593) -> (177, -5.1593)
  line L6 (177, -5.1593) -> (177, -18.7494)
  line L7 (177, -18.7494) -> (156.68, -5.1593) construction
  line L8 (156.68, -18.7494) -> (177, -5.1593) construction
  circle A0 centre (155.41, -11.9544) radius 0.6
  circle A1 centre (178.27, -11.9544) radius 0.6
  circle A2 centre (166.84, -18.7494) radius 0.6
  circle A3 centre (166.84, -5.1593) radius 0.6
  point P0 (92, 0)
  point P1 (166.84, -11.9544)
  dimension "d83" = 22.86
  dimension "d84" = 1.2
  dimension "d85" = 1.2
  dimension "d86" = 1.2
  dimension "d87" = 1.2
extrude "Выдавливание16" add sketch "Эскиз16" along normal blind 3 contours A1 | A0 | A3 L5 | L5 A3 | A2 L3 | L3 A2
fillet "Сопряжение4" radius 3 8 edges at (-25, 3, 0) (-25, -10.5, -95) (-25, -10.5, 95) (0, 3, -95) (25, 3, 0) (0, 3, 95) (25, -10.5, -95) (25, -10.5, 95)
fillet "Сопряжение5" radius 1 4 edges at (-11, 3, 0) (0, 3, 74) (11, 3, 0) (0, 3, -74)
sketch "Эскиз17" plane through (-22, 0, 92) normal (1, 0, 0) x (0, 0, -1)
  line L0 (16, -13.75) -> (26, -13.75)
  line L1 (26, -13.75) -> (26, -11.75)
  line L2 (26, -11.75) -> (16, -11.75)
  line L3 (16, -11.75) -> (16, -13.75)
  line L4 (16, -20.75) -> (26, -20.75)
  line L5 (26, -20.75) -> (26, -22.25)
  line L6 (26, -22.25) -> (16, -22.25)
  line L7 (16, -22.25) -> (16, -20.75)
  line L8 (158, -20.75) -> (168, -20.75)
  line L9 (168, -20.75) -> (168, -22.25)
  line L10 (168, -22.25) -> (158, -22.25)
  line L11 (158, -22.25) -> (158, -20.75)
  line L12 (158, -13.75) -> (168, -13.75)
  line L13 (168, -13.75) -> (168, -11.75)
  line L14 (168, -11.75) -> (158, -11.75)
  line L15 (158, -11.75) -> (158, -13.75)
  point P0 (92, 0)
  dimension "d92" = 2
  dimension "d93" = 1.5
  dimension "d94" = 1.5
  dimension "d95" = 2
extrude "Выдавливание17" cut sketch "Эскиз17" against normal blind 10
chamfer "Фаска1" distance 3 angle 45 2 edges at (-25, -11.75, 71) (-25, -11.75, -71)
fillet "Сопряжение6" radius 1 2 edges at (-25, -22.25, 71) (-25, -22.25, -71)
sketch "Эскиз18" plane through (-22, 0, 92) normal (1, 0, 0) x (0, 0, -1)
  line L0 (0, 0) -> (184, 0) projected
  line L1 (0, 0) -> (0, -24) projected
  line L2 (184, -24) -> (0, -24) projected
  line L3 (184, 0) -> (184, -24) projected
  line L4 (16, -22.25) -> (16, -20.75) projected
  line L5 (16, -20.75) -> (13, -20.75) projected
  line L6 (13, -20.75) -> (9, -20.75) projected
  line L7 (9, -20.75) -> (9, -13.75) projected
  line L8 (9, -13.75) -> (13, -13.75) projected
  line L9 (13, -13.75) -> (16, -13.75) projected
  line L10 (16, -13.75) -> (16, -11.75) projected
  line L11 (16, -11.75) -> (26, -11.75) projected
  line L12 (26, -11.75) -> (26, -13.75) projected
  line L13 (26, -13.75) -> (29, -13.75) projected
  line L14 (29, -13.75) -> (33, -13.75) projected
  line L15 (33, -13.75) -> (33, -20.75) projected
  line L16 (33, -20.75) -> (29, -20.75) projected
  line L17 (29, -20.75) -> (26, -20.75) projected
  line L18 (26, -20.75) -> (26, -22.25) projected
  line L19 (26, -22.25) -> (16, -22.25) projected
  line L20 (158, -13.75) -> (158, -11.75) projected
  line L21 (158, -11.75) -> (168, -11.75) projected
  line L22 (168, -11.75) -> (168, -13.75) projected
  line L23 (168, -13.75) -> (171, -13.75) projected
  line L24 (171, -13.75) -> (175, -13.75) projected
  line L25 (175, -13.75) -> (175, -20.75) projected
  line L26 (175, -20.75) -> (171, -20.75) projected
  line L27 (171, -20.75) -> (168, -20.75) projected
  line L28 (168, -20.75) -> (168, -22.25) projected
  line L29 (168, -22.25) -> (158, -22.25) projected
  line L30 (158, -22.25) -> (158, -20.75) projected
  line L31 (158, -20.75) -> (155, -20.75) projected
  line L32 (155, -20.75) -> (151, -20.75) projected
  line L33 (151, -20.75) -> (151, -13.75) projected
  line L34 (151, -13.75) -> (155, -13.75) projected
  line L35 (155, -13.75) -> (158, -13.75) projected
  line L36 (33, -13.75) -> (33, -11.75)
  line L37 (33, -11.75) -> (33, -15.75)
  point P0 (92, 0)
  dimension "d102" = 2
  dimension "d103" = 4
properties part number "ESP_DISP_COVER"
